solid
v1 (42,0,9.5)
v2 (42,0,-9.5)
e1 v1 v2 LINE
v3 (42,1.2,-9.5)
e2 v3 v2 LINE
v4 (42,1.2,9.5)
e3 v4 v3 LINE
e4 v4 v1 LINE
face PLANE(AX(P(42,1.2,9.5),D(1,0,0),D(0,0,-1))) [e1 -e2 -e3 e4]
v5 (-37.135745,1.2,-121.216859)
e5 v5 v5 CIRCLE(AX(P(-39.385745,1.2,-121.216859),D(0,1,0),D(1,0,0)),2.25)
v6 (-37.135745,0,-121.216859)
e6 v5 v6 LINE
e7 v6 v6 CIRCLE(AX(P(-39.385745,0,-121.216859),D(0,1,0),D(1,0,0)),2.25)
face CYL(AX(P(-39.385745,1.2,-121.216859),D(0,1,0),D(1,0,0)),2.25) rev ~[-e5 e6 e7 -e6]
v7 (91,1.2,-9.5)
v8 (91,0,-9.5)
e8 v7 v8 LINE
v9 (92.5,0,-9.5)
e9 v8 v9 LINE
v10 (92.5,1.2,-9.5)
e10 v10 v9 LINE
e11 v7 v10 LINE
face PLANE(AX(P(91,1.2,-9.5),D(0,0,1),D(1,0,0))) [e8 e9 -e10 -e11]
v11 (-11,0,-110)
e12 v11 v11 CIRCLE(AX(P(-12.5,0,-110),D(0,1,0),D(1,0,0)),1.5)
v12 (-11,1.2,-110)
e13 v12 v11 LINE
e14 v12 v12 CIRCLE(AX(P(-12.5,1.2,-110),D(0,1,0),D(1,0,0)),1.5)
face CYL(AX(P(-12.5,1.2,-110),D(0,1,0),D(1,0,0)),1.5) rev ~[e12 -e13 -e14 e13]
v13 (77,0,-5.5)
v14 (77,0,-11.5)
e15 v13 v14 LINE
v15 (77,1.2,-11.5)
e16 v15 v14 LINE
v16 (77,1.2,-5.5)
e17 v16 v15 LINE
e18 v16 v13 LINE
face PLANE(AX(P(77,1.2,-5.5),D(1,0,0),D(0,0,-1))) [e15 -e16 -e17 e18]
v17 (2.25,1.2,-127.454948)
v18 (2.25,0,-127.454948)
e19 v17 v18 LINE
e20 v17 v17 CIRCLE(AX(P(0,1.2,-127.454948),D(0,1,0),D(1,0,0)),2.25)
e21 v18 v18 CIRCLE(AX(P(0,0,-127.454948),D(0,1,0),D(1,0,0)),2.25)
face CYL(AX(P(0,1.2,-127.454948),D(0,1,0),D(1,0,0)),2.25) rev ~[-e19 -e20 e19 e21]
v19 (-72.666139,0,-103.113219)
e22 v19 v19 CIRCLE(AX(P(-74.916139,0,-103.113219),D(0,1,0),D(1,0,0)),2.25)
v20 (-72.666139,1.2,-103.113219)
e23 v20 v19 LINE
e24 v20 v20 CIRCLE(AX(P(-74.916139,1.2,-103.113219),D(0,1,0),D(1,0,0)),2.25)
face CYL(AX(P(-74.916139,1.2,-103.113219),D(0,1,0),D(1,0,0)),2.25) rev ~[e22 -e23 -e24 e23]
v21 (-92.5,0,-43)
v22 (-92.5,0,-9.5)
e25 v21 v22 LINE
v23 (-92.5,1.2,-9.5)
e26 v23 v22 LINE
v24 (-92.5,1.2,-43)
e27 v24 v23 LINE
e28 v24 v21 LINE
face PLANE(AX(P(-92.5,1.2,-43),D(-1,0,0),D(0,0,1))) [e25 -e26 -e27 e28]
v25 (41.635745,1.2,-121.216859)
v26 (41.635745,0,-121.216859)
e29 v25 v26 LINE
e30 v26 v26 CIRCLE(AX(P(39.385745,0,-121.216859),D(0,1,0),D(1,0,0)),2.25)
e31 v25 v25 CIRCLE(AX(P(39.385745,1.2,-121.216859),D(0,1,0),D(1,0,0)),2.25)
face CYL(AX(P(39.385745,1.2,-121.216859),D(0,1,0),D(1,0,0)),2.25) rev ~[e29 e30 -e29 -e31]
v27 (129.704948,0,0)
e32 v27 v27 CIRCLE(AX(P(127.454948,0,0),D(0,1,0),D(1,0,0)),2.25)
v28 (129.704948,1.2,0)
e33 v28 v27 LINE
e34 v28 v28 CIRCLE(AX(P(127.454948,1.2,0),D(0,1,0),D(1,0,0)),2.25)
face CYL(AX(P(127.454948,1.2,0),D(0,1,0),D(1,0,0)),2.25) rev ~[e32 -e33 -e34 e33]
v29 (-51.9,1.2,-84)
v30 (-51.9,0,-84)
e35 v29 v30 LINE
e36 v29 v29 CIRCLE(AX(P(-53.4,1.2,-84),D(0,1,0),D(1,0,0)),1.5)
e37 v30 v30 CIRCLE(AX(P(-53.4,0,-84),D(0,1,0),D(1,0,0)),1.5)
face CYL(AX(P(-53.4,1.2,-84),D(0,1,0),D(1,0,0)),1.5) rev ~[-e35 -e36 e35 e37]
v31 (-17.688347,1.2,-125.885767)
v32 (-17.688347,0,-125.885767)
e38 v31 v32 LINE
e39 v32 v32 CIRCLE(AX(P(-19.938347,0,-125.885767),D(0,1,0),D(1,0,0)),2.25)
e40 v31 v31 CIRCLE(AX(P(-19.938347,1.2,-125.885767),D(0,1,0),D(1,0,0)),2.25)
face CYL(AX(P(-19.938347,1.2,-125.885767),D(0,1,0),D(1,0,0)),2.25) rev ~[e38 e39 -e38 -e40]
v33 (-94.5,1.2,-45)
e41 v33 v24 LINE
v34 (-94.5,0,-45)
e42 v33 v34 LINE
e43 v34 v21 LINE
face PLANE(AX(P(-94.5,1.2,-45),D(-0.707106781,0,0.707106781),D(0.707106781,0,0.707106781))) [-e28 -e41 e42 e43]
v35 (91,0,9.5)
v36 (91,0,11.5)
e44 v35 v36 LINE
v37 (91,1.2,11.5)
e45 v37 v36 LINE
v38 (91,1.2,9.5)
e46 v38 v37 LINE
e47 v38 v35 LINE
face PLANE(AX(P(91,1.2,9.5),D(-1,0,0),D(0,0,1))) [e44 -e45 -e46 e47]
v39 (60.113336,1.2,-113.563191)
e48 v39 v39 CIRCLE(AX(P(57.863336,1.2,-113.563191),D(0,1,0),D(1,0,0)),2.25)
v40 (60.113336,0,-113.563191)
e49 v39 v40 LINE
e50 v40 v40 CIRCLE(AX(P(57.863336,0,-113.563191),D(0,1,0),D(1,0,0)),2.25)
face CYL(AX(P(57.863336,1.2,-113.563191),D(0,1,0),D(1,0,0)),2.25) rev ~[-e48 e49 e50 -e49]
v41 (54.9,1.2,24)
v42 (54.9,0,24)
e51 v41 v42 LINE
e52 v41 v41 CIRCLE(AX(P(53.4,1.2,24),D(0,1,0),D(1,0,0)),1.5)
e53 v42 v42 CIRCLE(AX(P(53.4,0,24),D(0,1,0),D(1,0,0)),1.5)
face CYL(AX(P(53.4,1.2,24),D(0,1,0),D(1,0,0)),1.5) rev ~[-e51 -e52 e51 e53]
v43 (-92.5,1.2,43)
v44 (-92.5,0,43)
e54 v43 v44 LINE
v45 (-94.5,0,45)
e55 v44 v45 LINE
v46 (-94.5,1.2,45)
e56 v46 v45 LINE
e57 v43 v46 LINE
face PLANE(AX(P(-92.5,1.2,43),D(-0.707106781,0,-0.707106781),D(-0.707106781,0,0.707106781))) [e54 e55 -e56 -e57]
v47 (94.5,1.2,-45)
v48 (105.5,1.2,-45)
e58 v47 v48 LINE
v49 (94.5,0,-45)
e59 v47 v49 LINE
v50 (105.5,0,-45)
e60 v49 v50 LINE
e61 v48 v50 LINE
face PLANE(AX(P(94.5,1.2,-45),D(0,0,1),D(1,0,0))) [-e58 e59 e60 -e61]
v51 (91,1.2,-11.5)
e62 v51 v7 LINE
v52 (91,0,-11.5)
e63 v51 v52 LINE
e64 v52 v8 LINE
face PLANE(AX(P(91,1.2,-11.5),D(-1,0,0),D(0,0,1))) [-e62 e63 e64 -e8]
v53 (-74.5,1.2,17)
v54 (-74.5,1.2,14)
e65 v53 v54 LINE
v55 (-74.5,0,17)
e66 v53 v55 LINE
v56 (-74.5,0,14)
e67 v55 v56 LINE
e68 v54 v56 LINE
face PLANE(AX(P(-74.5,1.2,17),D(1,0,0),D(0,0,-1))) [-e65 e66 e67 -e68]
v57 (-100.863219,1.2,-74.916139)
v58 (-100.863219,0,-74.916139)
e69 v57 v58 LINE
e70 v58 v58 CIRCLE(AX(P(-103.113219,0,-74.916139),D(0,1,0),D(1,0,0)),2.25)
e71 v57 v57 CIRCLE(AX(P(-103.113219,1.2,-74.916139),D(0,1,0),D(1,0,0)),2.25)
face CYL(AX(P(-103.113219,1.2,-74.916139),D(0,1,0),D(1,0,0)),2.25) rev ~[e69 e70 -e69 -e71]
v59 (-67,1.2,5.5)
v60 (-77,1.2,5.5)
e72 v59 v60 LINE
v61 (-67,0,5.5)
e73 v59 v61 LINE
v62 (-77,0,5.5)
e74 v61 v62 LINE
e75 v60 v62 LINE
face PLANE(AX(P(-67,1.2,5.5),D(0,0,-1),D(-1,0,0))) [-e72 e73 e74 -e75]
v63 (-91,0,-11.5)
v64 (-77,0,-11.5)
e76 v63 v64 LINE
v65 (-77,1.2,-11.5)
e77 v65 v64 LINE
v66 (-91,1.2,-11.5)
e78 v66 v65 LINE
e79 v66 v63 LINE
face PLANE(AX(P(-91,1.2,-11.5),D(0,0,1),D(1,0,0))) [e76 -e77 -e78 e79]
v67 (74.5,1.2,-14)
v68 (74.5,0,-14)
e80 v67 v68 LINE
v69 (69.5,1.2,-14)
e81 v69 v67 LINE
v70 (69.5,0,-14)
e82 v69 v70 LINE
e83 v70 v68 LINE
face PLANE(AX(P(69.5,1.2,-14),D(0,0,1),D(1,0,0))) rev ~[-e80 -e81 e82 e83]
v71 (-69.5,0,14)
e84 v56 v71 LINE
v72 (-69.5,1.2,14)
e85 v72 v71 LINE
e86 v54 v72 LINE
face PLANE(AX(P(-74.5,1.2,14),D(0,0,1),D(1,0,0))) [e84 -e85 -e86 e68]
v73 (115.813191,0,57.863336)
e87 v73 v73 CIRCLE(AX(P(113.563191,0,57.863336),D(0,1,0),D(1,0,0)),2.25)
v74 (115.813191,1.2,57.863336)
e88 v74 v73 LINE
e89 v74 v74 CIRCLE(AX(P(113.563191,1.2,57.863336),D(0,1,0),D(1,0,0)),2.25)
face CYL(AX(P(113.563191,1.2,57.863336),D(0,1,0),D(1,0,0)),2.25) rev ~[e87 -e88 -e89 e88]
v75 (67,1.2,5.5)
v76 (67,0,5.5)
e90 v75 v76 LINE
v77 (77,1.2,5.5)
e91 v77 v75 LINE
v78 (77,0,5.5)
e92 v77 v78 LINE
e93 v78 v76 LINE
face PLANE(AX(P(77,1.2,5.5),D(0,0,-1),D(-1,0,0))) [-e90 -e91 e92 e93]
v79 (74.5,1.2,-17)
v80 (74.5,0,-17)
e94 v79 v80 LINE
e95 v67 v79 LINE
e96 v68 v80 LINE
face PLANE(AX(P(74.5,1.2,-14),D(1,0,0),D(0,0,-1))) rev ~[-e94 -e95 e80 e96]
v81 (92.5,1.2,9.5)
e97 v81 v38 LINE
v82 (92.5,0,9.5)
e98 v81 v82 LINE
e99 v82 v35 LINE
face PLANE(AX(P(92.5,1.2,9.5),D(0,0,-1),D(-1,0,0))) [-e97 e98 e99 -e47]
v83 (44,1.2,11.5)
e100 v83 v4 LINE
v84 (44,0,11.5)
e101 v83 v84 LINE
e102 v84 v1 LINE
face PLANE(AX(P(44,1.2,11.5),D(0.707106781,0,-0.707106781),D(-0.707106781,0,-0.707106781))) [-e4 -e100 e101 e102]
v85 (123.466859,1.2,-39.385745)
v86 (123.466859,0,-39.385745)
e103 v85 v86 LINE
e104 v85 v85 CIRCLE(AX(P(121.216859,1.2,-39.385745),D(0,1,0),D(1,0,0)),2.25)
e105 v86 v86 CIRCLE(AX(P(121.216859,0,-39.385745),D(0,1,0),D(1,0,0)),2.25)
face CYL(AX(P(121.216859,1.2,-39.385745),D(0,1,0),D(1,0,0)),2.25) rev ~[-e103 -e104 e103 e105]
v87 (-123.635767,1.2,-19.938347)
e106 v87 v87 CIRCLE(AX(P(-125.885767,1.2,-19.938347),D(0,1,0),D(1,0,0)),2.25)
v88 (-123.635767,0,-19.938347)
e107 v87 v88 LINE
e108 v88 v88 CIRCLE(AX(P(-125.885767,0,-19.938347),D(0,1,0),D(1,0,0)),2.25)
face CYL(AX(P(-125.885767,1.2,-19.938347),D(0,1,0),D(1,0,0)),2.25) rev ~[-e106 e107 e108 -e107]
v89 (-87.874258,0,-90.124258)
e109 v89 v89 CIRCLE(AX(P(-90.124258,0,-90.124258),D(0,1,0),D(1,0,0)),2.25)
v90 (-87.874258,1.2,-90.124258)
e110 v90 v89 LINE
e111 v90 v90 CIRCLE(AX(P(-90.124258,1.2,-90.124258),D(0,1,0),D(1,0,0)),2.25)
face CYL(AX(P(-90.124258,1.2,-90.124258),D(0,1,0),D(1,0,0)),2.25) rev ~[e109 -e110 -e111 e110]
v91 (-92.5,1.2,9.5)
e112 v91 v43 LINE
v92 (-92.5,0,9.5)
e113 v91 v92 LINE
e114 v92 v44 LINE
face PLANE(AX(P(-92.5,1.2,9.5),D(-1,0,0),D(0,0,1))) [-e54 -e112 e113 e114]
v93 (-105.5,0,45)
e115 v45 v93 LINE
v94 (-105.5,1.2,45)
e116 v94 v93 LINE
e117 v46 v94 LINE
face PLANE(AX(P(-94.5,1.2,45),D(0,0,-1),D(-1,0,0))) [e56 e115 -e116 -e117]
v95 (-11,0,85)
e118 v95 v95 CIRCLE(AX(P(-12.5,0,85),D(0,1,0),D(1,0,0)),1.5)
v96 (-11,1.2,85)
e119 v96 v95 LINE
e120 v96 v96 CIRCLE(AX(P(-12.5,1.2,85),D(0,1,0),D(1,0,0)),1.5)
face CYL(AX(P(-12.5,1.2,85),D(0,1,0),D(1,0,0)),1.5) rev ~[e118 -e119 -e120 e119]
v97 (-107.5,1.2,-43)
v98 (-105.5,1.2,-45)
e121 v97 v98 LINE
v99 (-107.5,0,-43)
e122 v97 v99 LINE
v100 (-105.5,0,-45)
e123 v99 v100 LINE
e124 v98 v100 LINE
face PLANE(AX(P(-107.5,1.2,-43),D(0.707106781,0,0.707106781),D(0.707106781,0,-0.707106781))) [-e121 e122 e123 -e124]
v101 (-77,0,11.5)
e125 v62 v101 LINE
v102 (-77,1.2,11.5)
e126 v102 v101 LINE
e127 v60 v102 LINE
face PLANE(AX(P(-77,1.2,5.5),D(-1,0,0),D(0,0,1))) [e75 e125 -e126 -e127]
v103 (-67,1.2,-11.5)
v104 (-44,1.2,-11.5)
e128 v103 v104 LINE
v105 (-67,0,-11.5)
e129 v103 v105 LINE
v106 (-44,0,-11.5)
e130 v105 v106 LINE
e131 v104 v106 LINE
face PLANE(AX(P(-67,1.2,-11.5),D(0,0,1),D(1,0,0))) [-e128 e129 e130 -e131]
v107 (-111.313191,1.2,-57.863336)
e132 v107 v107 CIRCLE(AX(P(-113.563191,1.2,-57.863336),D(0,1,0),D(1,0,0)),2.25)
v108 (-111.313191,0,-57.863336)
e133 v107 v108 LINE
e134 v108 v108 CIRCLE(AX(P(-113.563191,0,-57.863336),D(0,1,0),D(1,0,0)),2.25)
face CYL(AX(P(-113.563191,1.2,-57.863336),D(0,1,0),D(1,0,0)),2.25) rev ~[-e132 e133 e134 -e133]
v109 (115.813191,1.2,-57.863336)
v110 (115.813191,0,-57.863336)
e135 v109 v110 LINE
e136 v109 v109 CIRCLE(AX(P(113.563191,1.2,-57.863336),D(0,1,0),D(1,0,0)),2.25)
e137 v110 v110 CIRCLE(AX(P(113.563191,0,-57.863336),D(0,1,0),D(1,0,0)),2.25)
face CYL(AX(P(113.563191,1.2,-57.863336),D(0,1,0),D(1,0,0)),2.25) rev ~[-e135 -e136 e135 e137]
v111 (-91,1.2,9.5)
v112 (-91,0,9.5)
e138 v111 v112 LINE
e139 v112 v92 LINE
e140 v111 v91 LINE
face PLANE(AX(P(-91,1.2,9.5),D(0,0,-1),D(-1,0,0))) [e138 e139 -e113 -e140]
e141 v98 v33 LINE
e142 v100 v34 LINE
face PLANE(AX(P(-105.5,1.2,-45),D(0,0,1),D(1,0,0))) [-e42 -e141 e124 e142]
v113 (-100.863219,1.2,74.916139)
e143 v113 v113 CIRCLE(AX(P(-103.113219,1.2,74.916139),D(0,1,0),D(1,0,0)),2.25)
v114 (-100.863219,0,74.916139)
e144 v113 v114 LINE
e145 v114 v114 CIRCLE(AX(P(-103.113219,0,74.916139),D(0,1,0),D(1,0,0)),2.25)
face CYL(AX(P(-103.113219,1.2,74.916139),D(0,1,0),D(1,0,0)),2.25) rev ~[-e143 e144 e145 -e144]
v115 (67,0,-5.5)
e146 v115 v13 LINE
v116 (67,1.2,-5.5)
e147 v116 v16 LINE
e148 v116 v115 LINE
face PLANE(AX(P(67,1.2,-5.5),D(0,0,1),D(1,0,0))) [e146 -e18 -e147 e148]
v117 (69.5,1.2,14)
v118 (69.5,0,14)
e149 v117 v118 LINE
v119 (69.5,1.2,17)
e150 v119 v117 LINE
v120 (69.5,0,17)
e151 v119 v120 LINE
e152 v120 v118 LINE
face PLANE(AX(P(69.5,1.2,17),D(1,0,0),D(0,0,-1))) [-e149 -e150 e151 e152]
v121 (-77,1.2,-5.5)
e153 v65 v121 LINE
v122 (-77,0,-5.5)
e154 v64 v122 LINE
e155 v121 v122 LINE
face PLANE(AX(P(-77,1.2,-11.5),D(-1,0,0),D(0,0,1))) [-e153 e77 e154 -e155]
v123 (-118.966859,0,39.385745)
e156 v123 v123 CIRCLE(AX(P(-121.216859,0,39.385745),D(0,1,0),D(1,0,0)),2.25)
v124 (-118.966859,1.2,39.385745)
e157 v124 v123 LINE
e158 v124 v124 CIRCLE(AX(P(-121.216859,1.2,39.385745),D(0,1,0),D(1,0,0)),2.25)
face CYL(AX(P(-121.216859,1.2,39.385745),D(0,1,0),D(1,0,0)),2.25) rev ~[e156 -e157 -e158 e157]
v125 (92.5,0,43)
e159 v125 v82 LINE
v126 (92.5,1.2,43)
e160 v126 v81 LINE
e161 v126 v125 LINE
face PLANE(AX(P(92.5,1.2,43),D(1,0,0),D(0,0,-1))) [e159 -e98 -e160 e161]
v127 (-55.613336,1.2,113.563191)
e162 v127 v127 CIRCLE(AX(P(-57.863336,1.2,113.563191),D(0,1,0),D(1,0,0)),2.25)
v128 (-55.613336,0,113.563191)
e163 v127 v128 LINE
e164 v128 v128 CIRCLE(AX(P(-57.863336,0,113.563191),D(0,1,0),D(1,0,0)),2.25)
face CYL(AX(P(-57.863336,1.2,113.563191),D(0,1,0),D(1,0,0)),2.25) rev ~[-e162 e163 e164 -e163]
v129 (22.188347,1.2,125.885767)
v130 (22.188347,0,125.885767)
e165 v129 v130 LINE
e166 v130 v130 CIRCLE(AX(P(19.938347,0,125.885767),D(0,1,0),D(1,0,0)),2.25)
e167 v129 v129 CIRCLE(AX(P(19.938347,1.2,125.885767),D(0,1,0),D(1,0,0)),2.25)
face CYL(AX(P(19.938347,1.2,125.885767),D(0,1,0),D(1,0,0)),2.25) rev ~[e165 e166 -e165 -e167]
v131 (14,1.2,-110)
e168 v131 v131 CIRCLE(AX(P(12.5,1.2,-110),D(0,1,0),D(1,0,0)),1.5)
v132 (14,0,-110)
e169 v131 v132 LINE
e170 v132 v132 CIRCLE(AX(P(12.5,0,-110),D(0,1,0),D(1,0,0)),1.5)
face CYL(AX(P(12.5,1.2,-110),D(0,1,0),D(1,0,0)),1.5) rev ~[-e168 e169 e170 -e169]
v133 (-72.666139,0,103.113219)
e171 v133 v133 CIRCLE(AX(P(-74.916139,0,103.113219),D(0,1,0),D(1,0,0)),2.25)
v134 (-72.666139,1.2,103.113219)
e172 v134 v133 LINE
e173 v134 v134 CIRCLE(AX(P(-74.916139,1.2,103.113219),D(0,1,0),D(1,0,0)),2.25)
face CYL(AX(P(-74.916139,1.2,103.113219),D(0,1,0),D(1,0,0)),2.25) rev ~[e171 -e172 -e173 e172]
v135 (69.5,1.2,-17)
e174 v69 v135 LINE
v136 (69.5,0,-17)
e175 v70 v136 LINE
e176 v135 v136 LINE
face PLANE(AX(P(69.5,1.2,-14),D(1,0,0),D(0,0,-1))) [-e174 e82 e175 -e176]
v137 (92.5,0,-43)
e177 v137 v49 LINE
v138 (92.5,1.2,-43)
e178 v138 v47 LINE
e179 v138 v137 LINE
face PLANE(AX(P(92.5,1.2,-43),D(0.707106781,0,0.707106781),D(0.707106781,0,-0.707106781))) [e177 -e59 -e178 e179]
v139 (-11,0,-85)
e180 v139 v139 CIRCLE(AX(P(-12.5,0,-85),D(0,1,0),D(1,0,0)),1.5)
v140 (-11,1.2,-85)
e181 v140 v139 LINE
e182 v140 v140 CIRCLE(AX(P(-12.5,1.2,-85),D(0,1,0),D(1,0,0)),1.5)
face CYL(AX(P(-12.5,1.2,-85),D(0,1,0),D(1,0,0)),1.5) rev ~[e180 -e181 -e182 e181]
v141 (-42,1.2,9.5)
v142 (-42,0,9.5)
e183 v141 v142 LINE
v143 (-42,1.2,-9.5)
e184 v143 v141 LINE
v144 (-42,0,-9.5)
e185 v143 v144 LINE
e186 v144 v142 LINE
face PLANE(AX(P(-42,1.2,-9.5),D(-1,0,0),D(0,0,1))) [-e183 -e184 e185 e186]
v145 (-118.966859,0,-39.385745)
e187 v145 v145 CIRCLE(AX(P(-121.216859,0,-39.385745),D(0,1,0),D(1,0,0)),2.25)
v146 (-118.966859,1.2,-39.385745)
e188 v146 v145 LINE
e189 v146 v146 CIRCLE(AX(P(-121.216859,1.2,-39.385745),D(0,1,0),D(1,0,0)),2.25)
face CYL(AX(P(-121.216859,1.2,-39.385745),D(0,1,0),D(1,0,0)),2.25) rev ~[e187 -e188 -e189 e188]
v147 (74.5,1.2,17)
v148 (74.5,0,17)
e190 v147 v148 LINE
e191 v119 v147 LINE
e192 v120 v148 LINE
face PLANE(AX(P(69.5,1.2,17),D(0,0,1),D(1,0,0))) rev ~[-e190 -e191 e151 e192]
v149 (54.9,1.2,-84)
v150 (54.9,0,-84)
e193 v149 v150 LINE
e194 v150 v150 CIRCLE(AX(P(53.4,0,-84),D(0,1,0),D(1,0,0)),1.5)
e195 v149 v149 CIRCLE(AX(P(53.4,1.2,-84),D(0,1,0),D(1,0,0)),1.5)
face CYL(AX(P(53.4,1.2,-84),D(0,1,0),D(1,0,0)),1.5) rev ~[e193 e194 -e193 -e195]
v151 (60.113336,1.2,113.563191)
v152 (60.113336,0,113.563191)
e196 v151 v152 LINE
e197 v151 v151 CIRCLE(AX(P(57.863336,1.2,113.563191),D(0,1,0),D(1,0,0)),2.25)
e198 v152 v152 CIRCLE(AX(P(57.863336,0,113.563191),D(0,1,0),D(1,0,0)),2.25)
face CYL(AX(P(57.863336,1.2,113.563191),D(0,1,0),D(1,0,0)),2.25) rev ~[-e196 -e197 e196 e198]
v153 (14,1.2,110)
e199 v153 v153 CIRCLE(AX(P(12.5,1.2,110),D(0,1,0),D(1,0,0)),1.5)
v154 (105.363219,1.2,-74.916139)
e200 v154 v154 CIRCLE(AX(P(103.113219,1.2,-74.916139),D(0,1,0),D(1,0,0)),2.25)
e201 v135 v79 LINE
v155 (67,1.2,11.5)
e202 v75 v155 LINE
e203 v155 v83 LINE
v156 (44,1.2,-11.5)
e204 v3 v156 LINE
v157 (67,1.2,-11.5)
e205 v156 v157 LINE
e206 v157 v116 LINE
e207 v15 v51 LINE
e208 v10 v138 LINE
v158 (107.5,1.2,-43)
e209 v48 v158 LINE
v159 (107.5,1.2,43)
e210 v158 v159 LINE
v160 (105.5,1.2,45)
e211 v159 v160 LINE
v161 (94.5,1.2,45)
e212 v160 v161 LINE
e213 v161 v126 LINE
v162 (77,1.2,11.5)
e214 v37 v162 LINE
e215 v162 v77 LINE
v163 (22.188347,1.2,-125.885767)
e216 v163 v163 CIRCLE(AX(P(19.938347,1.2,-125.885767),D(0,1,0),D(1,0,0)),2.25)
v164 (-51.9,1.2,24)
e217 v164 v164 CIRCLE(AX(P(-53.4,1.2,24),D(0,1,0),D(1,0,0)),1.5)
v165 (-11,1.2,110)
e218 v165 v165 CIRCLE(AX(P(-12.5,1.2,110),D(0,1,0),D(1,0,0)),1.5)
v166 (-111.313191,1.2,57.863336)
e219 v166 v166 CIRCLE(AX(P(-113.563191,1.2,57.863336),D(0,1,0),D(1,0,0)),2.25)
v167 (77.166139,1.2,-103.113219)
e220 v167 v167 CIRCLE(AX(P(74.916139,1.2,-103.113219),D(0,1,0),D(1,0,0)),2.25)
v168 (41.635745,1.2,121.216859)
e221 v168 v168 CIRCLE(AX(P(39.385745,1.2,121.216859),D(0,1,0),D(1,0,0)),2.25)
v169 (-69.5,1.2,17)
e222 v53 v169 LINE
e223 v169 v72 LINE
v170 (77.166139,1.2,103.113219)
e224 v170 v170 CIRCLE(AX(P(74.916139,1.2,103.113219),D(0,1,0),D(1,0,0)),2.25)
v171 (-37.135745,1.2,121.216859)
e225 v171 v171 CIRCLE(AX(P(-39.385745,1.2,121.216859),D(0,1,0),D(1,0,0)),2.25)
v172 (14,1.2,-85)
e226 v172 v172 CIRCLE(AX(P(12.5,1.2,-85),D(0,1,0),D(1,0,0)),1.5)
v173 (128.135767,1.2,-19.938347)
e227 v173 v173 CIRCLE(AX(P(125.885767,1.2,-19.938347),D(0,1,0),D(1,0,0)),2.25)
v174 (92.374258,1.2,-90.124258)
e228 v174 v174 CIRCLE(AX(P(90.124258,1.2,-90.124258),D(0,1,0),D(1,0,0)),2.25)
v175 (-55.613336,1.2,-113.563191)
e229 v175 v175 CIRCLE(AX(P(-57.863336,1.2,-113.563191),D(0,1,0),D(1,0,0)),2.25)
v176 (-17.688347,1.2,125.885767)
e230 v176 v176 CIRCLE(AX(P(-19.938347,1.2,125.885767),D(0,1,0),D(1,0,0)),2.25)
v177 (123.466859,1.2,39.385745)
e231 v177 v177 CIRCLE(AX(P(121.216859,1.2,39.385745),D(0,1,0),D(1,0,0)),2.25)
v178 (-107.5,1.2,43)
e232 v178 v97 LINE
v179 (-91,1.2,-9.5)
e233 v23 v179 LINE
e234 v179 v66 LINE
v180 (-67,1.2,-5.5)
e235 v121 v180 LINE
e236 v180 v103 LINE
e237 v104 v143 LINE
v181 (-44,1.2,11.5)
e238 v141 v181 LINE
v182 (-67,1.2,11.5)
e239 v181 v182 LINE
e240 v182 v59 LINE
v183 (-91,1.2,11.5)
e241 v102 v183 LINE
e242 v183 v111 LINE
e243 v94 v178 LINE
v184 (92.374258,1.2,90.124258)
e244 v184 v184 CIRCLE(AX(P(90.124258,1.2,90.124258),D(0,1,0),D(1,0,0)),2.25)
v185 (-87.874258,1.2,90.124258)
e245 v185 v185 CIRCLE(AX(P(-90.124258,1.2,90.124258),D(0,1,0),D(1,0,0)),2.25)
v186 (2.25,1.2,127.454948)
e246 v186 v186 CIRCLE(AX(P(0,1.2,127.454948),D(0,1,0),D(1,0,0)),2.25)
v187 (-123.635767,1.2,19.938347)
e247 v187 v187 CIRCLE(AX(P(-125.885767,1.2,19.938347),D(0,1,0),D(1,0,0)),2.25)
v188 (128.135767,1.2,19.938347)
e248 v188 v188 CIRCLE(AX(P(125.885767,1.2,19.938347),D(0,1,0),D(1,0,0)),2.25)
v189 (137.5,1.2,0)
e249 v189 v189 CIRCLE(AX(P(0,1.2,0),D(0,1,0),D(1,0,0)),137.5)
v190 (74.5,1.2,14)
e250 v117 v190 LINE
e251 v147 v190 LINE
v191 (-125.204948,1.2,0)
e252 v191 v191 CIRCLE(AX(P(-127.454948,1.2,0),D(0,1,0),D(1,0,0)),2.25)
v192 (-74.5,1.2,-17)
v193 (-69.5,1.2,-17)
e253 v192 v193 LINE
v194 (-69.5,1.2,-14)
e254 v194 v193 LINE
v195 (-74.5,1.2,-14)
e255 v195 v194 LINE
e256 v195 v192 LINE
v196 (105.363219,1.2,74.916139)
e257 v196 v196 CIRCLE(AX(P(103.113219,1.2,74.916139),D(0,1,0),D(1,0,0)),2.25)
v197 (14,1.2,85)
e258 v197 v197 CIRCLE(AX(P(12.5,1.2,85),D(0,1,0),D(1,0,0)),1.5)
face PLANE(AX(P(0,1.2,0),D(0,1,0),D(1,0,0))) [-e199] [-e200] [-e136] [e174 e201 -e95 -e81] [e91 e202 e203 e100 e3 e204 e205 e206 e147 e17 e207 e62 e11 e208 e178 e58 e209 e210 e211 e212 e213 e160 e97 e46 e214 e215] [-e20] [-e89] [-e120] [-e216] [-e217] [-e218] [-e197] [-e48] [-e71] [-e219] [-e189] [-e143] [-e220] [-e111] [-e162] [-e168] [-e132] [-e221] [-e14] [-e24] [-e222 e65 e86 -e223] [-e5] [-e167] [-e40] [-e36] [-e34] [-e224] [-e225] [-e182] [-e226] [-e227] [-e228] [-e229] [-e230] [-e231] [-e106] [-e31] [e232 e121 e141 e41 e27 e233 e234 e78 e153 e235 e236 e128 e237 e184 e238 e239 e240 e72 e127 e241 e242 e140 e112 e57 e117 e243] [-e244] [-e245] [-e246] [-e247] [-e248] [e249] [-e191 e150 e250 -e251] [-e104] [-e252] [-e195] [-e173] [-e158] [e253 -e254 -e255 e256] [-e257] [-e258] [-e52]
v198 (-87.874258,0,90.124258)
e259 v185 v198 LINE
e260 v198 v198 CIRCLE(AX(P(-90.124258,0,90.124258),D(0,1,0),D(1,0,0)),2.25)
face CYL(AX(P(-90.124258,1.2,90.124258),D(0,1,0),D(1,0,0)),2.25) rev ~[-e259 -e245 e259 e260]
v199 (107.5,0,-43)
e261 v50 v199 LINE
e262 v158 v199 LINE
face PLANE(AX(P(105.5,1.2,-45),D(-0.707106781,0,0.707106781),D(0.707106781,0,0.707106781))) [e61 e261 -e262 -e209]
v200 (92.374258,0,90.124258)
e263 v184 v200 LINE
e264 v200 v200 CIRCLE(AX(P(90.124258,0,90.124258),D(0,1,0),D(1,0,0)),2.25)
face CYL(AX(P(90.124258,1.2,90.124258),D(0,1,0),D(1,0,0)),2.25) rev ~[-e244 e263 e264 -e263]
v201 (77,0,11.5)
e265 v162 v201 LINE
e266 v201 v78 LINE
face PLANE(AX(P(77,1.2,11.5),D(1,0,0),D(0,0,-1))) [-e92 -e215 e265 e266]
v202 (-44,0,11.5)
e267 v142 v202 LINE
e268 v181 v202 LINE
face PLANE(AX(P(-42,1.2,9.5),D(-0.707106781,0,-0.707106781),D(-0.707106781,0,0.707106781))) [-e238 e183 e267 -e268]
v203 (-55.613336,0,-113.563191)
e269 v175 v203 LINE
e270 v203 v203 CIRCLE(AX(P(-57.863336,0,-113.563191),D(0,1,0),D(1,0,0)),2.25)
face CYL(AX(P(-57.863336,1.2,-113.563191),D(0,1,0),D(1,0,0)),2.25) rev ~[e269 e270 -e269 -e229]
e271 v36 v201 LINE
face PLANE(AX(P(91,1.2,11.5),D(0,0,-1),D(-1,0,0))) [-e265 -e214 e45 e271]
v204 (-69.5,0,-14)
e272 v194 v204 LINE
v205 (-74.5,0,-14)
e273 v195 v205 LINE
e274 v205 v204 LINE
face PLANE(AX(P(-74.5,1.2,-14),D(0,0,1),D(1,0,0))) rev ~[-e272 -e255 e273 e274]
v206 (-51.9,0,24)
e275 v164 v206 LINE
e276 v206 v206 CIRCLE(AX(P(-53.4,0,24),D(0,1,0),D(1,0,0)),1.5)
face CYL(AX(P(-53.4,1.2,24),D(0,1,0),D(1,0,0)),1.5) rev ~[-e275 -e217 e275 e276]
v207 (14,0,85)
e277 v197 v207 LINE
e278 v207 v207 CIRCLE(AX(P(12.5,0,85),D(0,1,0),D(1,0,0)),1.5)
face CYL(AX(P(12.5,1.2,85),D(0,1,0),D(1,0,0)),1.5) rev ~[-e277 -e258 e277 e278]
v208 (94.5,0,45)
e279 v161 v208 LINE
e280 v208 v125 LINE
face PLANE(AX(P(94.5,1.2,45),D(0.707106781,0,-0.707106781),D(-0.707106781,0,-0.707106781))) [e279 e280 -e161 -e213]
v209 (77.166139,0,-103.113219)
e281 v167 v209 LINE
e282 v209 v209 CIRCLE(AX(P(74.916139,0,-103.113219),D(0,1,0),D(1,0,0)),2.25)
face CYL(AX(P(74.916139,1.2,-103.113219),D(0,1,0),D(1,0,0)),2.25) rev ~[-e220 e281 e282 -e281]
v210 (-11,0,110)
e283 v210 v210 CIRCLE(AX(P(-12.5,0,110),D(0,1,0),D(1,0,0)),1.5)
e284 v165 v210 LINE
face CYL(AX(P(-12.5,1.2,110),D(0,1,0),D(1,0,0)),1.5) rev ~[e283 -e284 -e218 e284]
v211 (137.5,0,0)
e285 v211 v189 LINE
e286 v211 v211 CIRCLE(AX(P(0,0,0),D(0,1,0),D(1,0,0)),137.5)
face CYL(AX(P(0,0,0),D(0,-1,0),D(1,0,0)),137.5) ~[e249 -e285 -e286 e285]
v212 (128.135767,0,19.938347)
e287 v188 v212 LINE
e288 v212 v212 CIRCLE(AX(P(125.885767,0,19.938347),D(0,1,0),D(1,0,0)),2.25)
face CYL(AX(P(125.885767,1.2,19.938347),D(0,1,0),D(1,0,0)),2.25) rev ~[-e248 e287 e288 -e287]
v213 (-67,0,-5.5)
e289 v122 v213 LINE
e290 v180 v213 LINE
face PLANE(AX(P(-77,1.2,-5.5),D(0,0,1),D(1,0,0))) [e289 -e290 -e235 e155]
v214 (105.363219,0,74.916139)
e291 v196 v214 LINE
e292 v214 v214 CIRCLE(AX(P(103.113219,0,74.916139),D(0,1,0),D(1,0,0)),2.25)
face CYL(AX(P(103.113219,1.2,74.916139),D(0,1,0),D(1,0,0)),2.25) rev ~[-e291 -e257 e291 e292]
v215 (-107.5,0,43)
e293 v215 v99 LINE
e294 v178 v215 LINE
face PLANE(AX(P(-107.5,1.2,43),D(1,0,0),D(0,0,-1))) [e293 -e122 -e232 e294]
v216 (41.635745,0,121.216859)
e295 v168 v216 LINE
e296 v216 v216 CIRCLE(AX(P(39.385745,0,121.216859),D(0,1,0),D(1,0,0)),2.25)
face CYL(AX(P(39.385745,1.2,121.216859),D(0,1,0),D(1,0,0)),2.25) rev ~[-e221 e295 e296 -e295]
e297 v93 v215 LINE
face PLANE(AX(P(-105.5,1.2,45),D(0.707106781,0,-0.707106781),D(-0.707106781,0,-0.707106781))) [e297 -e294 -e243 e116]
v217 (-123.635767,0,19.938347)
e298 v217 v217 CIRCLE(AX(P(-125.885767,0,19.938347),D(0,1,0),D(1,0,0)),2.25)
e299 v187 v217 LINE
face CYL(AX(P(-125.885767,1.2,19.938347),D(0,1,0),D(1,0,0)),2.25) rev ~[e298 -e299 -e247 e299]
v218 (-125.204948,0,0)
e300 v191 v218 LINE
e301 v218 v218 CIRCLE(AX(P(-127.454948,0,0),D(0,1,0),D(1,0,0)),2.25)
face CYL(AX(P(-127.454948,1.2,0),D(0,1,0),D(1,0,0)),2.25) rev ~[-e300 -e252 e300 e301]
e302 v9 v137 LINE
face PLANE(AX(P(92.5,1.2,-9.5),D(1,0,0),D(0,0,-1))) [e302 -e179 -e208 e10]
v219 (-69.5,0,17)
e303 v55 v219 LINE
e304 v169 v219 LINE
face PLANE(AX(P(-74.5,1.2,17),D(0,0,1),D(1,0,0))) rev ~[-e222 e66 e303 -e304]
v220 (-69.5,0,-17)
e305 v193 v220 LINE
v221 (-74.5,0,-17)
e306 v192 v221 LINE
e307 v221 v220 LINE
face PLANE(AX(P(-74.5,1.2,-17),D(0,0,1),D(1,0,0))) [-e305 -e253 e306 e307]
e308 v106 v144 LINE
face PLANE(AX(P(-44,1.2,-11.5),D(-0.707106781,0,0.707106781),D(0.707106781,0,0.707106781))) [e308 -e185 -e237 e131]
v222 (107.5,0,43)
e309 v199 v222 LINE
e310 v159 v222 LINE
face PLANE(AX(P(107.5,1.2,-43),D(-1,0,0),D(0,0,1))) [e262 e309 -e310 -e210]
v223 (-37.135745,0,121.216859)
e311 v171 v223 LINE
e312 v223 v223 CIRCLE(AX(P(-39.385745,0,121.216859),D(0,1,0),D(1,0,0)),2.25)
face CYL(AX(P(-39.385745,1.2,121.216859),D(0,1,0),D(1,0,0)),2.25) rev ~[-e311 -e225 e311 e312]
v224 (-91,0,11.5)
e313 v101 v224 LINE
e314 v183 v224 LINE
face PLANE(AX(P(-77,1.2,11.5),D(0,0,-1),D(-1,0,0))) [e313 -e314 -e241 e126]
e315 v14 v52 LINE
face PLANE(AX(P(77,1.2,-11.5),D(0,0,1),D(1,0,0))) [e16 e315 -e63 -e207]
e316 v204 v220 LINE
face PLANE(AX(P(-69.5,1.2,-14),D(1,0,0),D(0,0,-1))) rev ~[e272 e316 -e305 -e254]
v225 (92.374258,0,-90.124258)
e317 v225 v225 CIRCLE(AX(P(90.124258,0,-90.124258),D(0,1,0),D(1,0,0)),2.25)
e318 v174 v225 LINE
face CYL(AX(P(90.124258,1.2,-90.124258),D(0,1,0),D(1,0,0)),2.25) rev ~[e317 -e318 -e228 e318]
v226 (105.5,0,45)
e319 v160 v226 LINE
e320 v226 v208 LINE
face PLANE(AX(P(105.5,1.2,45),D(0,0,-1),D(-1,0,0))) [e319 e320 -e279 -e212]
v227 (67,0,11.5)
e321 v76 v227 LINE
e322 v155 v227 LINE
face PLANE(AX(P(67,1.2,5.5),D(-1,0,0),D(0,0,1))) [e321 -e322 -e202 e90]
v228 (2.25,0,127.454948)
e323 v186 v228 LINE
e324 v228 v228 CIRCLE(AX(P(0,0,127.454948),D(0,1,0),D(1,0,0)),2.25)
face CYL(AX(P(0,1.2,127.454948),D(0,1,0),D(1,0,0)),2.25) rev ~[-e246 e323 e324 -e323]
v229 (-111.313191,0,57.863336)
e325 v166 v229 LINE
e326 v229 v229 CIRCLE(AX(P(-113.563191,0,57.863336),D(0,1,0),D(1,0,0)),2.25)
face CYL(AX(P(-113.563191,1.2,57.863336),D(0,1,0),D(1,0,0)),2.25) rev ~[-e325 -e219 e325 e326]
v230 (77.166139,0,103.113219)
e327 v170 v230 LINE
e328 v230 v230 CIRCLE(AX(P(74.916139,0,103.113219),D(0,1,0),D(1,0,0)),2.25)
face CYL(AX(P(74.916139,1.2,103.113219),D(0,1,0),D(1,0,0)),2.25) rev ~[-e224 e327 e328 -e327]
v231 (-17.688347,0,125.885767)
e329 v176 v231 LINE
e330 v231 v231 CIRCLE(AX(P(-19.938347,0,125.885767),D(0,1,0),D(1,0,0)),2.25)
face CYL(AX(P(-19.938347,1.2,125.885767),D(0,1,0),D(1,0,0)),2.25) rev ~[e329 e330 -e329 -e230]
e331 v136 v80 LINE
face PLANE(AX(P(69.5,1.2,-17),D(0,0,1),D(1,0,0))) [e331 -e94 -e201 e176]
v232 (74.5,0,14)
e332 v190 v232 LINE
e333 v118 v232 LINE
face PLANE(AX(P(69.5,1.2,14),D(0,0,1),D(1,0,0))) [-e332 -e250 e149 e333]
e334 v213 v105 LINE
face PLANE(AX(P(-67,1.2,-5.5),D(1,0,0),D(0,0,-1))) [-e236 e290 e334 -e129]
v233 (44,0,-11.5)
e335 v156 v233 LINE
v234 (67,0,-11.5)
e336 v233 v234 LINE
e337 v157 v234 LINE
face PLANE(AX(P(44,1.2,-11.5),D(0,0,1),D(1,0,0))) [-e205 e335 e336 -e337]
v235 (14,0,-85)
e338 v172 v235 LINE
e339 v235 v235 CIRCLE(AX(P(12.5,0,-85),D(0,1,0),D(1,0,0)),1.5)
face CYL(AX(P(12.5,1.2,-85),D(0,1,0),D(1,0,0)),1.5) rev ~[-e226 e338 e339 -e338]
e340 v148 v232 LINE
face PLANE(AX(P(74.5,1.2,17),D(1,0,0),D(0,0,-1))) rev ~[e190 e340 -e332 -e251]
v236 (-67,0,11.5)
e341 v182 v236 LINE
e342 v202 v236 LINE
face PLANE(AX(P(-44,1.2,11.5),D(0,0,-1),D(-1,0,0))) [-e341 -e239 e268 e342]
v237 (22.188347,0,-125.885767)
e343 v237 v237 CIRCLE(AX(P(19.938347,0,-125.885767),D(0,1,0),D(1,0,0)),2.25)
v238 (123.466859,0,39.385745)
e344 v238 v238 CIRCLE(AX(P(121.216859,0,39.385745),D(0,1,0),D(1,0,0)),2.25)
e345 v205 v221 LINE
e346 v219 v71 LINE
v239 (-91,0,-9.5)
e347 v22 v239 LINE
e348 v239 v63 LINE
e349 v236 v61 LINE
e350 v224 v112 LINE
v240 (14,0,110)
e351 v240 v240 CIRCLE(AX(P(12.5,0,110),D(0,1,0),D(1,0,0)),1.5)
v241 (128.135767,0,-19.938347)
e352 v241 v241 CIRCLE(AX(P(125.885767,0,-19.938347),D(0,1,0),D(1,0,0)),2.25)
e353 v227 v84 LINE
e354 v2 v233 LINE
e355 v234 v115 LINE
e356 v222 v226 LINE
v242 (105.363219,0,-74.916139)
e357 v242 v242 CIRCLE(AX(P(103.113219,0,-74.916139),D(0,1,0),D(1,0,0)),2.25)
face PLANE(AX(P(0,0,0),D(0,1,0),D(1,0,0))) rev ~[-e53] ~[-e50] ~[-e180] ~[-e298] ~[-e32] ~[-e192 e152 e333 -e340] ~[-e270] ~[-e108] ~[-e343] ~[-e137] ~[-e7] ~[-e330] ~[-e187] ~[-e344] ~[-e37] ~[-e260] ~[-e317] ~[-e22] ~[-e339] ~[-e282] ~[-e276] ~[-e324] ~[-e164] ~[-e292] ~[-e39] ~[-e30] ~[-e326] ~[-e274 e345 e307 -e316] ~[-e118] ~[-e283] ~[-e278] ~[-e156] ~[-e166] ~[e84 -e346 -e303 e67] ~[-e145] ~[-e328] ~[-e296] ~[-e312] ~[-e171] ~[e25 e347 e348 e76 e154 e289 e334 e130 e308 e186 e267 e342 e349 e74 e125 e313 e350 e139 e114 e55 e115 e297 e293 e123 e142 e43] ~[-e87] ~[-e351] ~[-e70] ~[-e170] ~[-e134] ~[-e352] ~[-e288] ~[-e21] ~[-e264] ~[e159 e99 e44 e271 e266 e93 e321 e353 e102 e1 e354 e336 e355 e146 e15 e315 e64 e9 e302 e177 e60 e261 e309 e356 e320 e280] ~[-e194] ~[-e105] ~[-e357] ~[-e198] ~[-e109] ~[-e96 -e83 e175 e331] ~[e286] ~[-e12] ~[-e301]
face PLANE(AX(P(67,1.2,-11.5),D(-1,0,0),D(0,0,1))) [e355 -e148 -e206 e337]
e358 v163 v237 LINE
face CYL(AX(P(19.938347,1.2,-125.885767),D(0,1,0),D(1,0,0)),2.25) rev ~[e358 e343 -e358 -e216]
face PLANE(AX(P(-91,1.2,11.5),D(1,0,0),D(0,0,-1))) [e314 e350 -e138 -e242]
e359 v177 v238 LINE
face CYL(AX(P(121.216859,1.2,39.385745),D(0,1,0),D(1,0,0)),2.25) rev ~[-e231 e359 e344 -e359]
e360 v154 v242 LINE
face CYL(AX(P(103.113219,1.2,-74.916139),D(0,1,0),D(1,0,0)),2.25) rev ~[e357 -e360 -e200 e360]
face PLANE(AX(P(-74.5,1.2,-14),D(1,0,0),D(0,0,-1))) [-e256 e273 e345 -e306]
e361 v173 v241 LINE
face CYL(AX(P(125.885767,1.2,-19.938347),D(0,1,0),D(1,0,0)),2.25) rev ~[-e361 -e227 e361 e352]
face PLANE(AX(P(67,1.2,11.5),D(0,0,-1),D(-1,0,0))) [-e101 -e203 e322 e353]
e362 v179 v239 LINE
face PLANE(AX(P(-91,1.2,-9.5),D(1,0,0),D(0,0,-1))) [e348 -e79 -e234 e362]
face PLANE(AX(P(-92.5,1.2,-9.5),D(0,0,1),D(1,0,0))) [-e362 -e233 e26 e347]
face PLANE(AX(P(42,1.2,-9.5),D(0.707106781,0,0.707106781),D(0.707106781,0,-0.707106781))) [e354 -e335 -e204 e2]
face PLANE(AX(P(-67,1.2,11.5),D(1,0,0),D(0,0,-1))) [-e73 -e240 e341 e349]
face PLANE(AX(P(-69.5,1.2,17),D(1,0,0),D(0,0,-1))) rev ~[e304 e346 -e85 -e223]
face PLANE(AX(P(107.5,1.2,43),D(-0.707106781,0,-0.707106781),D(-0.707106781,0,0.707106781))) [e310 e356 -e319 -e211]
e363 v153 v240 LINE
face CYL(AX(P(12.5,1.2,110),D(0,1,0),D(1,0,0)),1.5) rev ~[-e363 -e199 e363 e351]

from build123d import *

# Parameters (mm, degrees)
SKETCH1_R           = 137.5
BOSS_EXTRUDE1_DEPTH = 1.2
SKETCH3_R           = 2.25
CUT_EXTRUDE1_DEPTH  = 2.2
CUT_EXTRUDE2_DEPTH  = 1.2
SKETCH5_R           = 1.5
CUT_EXTRUDE3_DEPTH  = 2.2
SKETCH6_R           = 1.5
CUT_EXTRUDE4_DEPTH  = 2.2
SKETCH7_W           = 5
SKETCH7_H           = 3
CUT_EXTRUDE5_DEPTH  = 2.2


with BuildPart() as part:
    # Sketch1 → Boss-Extrude1 (new body)
    with BuildSketch(Plane(origin=(0, 0, 0), x_dir=(1, 0, 0), z_dir=(0, 1, 0))):
        Circle(SKETCH1_R)
    extrude(amount=BOSS_EXTRUDE1_DEPTH)

    # Sketch3 → Cut-Extrude1 (cut, through all)
    with BuildSketch(Plane(origin=(0, 1.2, 0), x_dir=(1, 0, 0), z_dir=(0, 1, 0))):
        with Locations((0, 127.454948432)):
            Circle(SKETCH3_R)
        with Locations((19.938346675, 125.885766517)):
            Circle(SKETCH3_R)
        with Locations((39.385745083, 121.21685924)):
            Circle(SKETCH3_R)
        with Locations((57.863335733, 113.563190593)):
            Circle(SKETCH3_R)
        with Locations((74.91613902, 103.113219299)):
            Circle(SKETCH3_R)
        with Locations((90.124258332, 90.124258332)):
            Circle(SKETCH3_R)
        with Locations((103.113219299, 74.91613902)):
            Circle(SKETCH3_R)
        with Locations((113.563190593, 57.863335733)):
            Circle(SKETCH3_R)
        with Locations((121.21685924, 39.385745083)):
            Circle(SKETCH3_R)
        with Locations((125.885766517, 19.938346675)):
            Circle(SKETCH3_R)
        with Locations((127.454948432, 0)):
            Circle(SKETCH3_R)
        with Locations((125.885766517, -19.938346675)):
            Circle(SKETCH3_R)
        with Locations((121.21685924, -39.385745083)):
            Circle(SKETCH3_R)
        with Locations((113.563190593, -57.863335733)):
            Circle(SKETCH3_R)
        with Locations((103.113219299, -74.91613902)):
            Circle(SKETCH3_R)
        with Locations((90.124258332, -90.124258332)):
            Circle(SKETCH3_R)
        with Locations((74.91613902, -103.113219299)):
            Circle(SKETCH3_R)
        with Locations((57.863335733, -113.563190593)):
            Circle(SKETCH3_R)
        with Locations((39.385745083, -121.21685924)):
            Circle(SKETCH3_R)
        with Locations((19.938346675, -125.885766517)):
            Circle(SKETCH3_R)
        with Locations((0, -127.454948432)):
            Circle(SKETCH3_R)
        with Locations((-19.938346675, -125.885766517)):
            Circle(SKETCH3_R)
        with Locations((-39.385745083, -121.21685924)):
            Circle(SKETCH3_R)
        with Locations((-57.863335733, -113.563190593)):
            Circle(SKETCH3_R)
        with Locations((-74.91613902, -103.113219299)):
            Circle(SKETCH3_R)
        with Locations((-90.124258332, -90.124258332)):
            Circle(SKETCH3_R)
        with Locations((-103.113219299, -74.91613902)):
            Circle(SKETCH3_R)
        with Locations((-113.563190593, -57.863335733)):
            Circle(SKETCH3_R)
        with Locations((-121.21685924, -39.385745083)):
            Circle(SKETCH3_R)
        with Locations((-125.885766517, -19.938346675)):
            Circle(SKETCH3_R)
        with Locations((-127.454948432, 0)):
            Circle(SKETCH3_R)
        with Locations((-125.885766517, 19.938346675)):
            Circle(SKETCH3_R)
        with Locations((-121.21685924, 39.385745083)):
            Circle(SKETCH3_R)
        with Locations((-113.563190593, 57.863335733)):
            Circle(SKETCH3_R)
        with Locations((-103.113219299, 74.91613902)):
            Circle(SKETCH3_R)
        with Locations((-90.124258332, 90.124258332)):
            Circle(SKETCH3_R)
        with Locations((-74.91613902, 103.113219299)):
            Circle(SKETCH3_R)
        with Locations((-57.863335733, 113.563190593)):
            Circle(SKETCH3_R)
        with Locations((-39.385745083, 121.21685924)):
            Circle(SKETCH3_R)
        with Locations((-19.938346675, 125.885766517)):
            Circle(SKETCH3_R)
    extrude(amount=-CUT_EXTRUDE1_DEPTH, mode=Mode.SUBTRACT)

    # Sketch4 → Cut-Extrude2 (cut)
    with BuildSketch(Plane(origin=(0, 1.2, 0), x_dir=(1, 0, 0), z_dir=(0, 1, 0))):
        Polygon((-107.5, -43), (-107.5, 43), (-105.5, 45), (-94.5, 45), (-92.5, 43), (-92.5, 9.5), (-91, 9.5), (-91, 11.5), (-77, 11.5), (-77, 5.5), (-67, 5.5), (-67, 11.5), (-44, 11.5), (-42, 9.5), (-42, -9.5), (-44, -11.5), (-67, -11.5), (-67, -5.5), (-77, -5.5), (-77, -11.5), (-91, -11.5), (-91, -9.5), (-92.5, -9.5), (-92.5, -43), (-94.5, -45), (-105.5, -45), align=None)
        Polygon((94.5, -45), (92.5, -43), (92.5, -9.5), (91, -9.5), (91, -11.5), (77, -11.5), (77, -5.5), (67, -5.5), (67, -11.5), (44, -11.5), (42, -9.5), (42, 9.5), (44, 11.5), (67, 11.5), (67, 5.5), (77, 5.5), (77, 11.5), (91, 11.5), (91, 9.5), (92.5, 9.5), (92.5, 43), (94.5, 45), (105.5, 45), (107.5, 43), (107.5, -43), (105.5, -45), align=None)
    extrude(amount=-CUT_EXTRUDE2_DEPTH, mode=Mode.SUBTRACT)

    # Sketch5 → Cut-Extrude3 (cut, through all)
    with BuildSketch(Plane(origin=(0, 1.2, 0), x_dir=(1, 0, 0), z_dir=(0, 1, 0))):
        with Locations((-53.4, 84)):
            Circle(SKETCH5_R)
        with Locations((53.4, 84)):
            Circle(SKETCH5_R)
        with Locations((53.4, -24)):
            Circle(SKETCH5_R)
        with Locations((-53.4, -24)):
            Circle(SKETCH5_R)
    extrude(amount=-CUT_EXTRUDE3_DEPTH, mode=Mode.SUBTRACT)

    # Sketch6 → Cut-Extrude4 (cut, through all)
    with BuildSketch(Plane(origin=(0, 1.2, 0), x_dir=(1, 0, 0), z_dir=(0, 1, 0))):
        with Locations((-12.5, 110)):
            Circle(SKETCH6_R)
        with Locations((12.5, 110)):
            Circle(SKETCH6_R)
        with Locations((12.5, 85)):
            Circle(SKETCH6_R)
        with Locations((-12.5, 85)):
            Circle(SKETCH6_R)
        with Locations((-12.5, -85)):
            Circle(SKETCH6_R)
        with Locations((12.5, -85)):
            Circle(SKETCH6_R)
        with Locations((12.5, -110)):
            Circle(SKETCH6_R)
        with Locations((-12.5, -110)):
            Circle(SKETCH6_R)
    extrude(amount=-CUT_EXTRUDE4_DEPTH, mode=Mode.SUBTRACT)

    # Sketch7 → Cut-Extrude5 (cut, through all)
    with BuildSketch(Plane(origin=(0, 1.2, 0), x_dir=(1, 0, 0), z_dir=(0, 1, 0))):
        with Locations((-72, 15.5)):
            Rectangle(SKETCH7_W, SKETCH7_H)
        with Locations((-72, -15.5)):
            Rectangle(SKETCH7_W, SKETCH7_H)
        with Locations((72, -15.5)):
            Rectangle(SKETCH7_W, SKETCH7_H)
        with Locations((72, 15.5)):
            Rectangle(SKETCH7_W, SKETCH7_H)
    extrude(amount=-CUT_EXTRUDE5_DEPTH, mode=Mode.SUBTRACT)


solid = part.part
